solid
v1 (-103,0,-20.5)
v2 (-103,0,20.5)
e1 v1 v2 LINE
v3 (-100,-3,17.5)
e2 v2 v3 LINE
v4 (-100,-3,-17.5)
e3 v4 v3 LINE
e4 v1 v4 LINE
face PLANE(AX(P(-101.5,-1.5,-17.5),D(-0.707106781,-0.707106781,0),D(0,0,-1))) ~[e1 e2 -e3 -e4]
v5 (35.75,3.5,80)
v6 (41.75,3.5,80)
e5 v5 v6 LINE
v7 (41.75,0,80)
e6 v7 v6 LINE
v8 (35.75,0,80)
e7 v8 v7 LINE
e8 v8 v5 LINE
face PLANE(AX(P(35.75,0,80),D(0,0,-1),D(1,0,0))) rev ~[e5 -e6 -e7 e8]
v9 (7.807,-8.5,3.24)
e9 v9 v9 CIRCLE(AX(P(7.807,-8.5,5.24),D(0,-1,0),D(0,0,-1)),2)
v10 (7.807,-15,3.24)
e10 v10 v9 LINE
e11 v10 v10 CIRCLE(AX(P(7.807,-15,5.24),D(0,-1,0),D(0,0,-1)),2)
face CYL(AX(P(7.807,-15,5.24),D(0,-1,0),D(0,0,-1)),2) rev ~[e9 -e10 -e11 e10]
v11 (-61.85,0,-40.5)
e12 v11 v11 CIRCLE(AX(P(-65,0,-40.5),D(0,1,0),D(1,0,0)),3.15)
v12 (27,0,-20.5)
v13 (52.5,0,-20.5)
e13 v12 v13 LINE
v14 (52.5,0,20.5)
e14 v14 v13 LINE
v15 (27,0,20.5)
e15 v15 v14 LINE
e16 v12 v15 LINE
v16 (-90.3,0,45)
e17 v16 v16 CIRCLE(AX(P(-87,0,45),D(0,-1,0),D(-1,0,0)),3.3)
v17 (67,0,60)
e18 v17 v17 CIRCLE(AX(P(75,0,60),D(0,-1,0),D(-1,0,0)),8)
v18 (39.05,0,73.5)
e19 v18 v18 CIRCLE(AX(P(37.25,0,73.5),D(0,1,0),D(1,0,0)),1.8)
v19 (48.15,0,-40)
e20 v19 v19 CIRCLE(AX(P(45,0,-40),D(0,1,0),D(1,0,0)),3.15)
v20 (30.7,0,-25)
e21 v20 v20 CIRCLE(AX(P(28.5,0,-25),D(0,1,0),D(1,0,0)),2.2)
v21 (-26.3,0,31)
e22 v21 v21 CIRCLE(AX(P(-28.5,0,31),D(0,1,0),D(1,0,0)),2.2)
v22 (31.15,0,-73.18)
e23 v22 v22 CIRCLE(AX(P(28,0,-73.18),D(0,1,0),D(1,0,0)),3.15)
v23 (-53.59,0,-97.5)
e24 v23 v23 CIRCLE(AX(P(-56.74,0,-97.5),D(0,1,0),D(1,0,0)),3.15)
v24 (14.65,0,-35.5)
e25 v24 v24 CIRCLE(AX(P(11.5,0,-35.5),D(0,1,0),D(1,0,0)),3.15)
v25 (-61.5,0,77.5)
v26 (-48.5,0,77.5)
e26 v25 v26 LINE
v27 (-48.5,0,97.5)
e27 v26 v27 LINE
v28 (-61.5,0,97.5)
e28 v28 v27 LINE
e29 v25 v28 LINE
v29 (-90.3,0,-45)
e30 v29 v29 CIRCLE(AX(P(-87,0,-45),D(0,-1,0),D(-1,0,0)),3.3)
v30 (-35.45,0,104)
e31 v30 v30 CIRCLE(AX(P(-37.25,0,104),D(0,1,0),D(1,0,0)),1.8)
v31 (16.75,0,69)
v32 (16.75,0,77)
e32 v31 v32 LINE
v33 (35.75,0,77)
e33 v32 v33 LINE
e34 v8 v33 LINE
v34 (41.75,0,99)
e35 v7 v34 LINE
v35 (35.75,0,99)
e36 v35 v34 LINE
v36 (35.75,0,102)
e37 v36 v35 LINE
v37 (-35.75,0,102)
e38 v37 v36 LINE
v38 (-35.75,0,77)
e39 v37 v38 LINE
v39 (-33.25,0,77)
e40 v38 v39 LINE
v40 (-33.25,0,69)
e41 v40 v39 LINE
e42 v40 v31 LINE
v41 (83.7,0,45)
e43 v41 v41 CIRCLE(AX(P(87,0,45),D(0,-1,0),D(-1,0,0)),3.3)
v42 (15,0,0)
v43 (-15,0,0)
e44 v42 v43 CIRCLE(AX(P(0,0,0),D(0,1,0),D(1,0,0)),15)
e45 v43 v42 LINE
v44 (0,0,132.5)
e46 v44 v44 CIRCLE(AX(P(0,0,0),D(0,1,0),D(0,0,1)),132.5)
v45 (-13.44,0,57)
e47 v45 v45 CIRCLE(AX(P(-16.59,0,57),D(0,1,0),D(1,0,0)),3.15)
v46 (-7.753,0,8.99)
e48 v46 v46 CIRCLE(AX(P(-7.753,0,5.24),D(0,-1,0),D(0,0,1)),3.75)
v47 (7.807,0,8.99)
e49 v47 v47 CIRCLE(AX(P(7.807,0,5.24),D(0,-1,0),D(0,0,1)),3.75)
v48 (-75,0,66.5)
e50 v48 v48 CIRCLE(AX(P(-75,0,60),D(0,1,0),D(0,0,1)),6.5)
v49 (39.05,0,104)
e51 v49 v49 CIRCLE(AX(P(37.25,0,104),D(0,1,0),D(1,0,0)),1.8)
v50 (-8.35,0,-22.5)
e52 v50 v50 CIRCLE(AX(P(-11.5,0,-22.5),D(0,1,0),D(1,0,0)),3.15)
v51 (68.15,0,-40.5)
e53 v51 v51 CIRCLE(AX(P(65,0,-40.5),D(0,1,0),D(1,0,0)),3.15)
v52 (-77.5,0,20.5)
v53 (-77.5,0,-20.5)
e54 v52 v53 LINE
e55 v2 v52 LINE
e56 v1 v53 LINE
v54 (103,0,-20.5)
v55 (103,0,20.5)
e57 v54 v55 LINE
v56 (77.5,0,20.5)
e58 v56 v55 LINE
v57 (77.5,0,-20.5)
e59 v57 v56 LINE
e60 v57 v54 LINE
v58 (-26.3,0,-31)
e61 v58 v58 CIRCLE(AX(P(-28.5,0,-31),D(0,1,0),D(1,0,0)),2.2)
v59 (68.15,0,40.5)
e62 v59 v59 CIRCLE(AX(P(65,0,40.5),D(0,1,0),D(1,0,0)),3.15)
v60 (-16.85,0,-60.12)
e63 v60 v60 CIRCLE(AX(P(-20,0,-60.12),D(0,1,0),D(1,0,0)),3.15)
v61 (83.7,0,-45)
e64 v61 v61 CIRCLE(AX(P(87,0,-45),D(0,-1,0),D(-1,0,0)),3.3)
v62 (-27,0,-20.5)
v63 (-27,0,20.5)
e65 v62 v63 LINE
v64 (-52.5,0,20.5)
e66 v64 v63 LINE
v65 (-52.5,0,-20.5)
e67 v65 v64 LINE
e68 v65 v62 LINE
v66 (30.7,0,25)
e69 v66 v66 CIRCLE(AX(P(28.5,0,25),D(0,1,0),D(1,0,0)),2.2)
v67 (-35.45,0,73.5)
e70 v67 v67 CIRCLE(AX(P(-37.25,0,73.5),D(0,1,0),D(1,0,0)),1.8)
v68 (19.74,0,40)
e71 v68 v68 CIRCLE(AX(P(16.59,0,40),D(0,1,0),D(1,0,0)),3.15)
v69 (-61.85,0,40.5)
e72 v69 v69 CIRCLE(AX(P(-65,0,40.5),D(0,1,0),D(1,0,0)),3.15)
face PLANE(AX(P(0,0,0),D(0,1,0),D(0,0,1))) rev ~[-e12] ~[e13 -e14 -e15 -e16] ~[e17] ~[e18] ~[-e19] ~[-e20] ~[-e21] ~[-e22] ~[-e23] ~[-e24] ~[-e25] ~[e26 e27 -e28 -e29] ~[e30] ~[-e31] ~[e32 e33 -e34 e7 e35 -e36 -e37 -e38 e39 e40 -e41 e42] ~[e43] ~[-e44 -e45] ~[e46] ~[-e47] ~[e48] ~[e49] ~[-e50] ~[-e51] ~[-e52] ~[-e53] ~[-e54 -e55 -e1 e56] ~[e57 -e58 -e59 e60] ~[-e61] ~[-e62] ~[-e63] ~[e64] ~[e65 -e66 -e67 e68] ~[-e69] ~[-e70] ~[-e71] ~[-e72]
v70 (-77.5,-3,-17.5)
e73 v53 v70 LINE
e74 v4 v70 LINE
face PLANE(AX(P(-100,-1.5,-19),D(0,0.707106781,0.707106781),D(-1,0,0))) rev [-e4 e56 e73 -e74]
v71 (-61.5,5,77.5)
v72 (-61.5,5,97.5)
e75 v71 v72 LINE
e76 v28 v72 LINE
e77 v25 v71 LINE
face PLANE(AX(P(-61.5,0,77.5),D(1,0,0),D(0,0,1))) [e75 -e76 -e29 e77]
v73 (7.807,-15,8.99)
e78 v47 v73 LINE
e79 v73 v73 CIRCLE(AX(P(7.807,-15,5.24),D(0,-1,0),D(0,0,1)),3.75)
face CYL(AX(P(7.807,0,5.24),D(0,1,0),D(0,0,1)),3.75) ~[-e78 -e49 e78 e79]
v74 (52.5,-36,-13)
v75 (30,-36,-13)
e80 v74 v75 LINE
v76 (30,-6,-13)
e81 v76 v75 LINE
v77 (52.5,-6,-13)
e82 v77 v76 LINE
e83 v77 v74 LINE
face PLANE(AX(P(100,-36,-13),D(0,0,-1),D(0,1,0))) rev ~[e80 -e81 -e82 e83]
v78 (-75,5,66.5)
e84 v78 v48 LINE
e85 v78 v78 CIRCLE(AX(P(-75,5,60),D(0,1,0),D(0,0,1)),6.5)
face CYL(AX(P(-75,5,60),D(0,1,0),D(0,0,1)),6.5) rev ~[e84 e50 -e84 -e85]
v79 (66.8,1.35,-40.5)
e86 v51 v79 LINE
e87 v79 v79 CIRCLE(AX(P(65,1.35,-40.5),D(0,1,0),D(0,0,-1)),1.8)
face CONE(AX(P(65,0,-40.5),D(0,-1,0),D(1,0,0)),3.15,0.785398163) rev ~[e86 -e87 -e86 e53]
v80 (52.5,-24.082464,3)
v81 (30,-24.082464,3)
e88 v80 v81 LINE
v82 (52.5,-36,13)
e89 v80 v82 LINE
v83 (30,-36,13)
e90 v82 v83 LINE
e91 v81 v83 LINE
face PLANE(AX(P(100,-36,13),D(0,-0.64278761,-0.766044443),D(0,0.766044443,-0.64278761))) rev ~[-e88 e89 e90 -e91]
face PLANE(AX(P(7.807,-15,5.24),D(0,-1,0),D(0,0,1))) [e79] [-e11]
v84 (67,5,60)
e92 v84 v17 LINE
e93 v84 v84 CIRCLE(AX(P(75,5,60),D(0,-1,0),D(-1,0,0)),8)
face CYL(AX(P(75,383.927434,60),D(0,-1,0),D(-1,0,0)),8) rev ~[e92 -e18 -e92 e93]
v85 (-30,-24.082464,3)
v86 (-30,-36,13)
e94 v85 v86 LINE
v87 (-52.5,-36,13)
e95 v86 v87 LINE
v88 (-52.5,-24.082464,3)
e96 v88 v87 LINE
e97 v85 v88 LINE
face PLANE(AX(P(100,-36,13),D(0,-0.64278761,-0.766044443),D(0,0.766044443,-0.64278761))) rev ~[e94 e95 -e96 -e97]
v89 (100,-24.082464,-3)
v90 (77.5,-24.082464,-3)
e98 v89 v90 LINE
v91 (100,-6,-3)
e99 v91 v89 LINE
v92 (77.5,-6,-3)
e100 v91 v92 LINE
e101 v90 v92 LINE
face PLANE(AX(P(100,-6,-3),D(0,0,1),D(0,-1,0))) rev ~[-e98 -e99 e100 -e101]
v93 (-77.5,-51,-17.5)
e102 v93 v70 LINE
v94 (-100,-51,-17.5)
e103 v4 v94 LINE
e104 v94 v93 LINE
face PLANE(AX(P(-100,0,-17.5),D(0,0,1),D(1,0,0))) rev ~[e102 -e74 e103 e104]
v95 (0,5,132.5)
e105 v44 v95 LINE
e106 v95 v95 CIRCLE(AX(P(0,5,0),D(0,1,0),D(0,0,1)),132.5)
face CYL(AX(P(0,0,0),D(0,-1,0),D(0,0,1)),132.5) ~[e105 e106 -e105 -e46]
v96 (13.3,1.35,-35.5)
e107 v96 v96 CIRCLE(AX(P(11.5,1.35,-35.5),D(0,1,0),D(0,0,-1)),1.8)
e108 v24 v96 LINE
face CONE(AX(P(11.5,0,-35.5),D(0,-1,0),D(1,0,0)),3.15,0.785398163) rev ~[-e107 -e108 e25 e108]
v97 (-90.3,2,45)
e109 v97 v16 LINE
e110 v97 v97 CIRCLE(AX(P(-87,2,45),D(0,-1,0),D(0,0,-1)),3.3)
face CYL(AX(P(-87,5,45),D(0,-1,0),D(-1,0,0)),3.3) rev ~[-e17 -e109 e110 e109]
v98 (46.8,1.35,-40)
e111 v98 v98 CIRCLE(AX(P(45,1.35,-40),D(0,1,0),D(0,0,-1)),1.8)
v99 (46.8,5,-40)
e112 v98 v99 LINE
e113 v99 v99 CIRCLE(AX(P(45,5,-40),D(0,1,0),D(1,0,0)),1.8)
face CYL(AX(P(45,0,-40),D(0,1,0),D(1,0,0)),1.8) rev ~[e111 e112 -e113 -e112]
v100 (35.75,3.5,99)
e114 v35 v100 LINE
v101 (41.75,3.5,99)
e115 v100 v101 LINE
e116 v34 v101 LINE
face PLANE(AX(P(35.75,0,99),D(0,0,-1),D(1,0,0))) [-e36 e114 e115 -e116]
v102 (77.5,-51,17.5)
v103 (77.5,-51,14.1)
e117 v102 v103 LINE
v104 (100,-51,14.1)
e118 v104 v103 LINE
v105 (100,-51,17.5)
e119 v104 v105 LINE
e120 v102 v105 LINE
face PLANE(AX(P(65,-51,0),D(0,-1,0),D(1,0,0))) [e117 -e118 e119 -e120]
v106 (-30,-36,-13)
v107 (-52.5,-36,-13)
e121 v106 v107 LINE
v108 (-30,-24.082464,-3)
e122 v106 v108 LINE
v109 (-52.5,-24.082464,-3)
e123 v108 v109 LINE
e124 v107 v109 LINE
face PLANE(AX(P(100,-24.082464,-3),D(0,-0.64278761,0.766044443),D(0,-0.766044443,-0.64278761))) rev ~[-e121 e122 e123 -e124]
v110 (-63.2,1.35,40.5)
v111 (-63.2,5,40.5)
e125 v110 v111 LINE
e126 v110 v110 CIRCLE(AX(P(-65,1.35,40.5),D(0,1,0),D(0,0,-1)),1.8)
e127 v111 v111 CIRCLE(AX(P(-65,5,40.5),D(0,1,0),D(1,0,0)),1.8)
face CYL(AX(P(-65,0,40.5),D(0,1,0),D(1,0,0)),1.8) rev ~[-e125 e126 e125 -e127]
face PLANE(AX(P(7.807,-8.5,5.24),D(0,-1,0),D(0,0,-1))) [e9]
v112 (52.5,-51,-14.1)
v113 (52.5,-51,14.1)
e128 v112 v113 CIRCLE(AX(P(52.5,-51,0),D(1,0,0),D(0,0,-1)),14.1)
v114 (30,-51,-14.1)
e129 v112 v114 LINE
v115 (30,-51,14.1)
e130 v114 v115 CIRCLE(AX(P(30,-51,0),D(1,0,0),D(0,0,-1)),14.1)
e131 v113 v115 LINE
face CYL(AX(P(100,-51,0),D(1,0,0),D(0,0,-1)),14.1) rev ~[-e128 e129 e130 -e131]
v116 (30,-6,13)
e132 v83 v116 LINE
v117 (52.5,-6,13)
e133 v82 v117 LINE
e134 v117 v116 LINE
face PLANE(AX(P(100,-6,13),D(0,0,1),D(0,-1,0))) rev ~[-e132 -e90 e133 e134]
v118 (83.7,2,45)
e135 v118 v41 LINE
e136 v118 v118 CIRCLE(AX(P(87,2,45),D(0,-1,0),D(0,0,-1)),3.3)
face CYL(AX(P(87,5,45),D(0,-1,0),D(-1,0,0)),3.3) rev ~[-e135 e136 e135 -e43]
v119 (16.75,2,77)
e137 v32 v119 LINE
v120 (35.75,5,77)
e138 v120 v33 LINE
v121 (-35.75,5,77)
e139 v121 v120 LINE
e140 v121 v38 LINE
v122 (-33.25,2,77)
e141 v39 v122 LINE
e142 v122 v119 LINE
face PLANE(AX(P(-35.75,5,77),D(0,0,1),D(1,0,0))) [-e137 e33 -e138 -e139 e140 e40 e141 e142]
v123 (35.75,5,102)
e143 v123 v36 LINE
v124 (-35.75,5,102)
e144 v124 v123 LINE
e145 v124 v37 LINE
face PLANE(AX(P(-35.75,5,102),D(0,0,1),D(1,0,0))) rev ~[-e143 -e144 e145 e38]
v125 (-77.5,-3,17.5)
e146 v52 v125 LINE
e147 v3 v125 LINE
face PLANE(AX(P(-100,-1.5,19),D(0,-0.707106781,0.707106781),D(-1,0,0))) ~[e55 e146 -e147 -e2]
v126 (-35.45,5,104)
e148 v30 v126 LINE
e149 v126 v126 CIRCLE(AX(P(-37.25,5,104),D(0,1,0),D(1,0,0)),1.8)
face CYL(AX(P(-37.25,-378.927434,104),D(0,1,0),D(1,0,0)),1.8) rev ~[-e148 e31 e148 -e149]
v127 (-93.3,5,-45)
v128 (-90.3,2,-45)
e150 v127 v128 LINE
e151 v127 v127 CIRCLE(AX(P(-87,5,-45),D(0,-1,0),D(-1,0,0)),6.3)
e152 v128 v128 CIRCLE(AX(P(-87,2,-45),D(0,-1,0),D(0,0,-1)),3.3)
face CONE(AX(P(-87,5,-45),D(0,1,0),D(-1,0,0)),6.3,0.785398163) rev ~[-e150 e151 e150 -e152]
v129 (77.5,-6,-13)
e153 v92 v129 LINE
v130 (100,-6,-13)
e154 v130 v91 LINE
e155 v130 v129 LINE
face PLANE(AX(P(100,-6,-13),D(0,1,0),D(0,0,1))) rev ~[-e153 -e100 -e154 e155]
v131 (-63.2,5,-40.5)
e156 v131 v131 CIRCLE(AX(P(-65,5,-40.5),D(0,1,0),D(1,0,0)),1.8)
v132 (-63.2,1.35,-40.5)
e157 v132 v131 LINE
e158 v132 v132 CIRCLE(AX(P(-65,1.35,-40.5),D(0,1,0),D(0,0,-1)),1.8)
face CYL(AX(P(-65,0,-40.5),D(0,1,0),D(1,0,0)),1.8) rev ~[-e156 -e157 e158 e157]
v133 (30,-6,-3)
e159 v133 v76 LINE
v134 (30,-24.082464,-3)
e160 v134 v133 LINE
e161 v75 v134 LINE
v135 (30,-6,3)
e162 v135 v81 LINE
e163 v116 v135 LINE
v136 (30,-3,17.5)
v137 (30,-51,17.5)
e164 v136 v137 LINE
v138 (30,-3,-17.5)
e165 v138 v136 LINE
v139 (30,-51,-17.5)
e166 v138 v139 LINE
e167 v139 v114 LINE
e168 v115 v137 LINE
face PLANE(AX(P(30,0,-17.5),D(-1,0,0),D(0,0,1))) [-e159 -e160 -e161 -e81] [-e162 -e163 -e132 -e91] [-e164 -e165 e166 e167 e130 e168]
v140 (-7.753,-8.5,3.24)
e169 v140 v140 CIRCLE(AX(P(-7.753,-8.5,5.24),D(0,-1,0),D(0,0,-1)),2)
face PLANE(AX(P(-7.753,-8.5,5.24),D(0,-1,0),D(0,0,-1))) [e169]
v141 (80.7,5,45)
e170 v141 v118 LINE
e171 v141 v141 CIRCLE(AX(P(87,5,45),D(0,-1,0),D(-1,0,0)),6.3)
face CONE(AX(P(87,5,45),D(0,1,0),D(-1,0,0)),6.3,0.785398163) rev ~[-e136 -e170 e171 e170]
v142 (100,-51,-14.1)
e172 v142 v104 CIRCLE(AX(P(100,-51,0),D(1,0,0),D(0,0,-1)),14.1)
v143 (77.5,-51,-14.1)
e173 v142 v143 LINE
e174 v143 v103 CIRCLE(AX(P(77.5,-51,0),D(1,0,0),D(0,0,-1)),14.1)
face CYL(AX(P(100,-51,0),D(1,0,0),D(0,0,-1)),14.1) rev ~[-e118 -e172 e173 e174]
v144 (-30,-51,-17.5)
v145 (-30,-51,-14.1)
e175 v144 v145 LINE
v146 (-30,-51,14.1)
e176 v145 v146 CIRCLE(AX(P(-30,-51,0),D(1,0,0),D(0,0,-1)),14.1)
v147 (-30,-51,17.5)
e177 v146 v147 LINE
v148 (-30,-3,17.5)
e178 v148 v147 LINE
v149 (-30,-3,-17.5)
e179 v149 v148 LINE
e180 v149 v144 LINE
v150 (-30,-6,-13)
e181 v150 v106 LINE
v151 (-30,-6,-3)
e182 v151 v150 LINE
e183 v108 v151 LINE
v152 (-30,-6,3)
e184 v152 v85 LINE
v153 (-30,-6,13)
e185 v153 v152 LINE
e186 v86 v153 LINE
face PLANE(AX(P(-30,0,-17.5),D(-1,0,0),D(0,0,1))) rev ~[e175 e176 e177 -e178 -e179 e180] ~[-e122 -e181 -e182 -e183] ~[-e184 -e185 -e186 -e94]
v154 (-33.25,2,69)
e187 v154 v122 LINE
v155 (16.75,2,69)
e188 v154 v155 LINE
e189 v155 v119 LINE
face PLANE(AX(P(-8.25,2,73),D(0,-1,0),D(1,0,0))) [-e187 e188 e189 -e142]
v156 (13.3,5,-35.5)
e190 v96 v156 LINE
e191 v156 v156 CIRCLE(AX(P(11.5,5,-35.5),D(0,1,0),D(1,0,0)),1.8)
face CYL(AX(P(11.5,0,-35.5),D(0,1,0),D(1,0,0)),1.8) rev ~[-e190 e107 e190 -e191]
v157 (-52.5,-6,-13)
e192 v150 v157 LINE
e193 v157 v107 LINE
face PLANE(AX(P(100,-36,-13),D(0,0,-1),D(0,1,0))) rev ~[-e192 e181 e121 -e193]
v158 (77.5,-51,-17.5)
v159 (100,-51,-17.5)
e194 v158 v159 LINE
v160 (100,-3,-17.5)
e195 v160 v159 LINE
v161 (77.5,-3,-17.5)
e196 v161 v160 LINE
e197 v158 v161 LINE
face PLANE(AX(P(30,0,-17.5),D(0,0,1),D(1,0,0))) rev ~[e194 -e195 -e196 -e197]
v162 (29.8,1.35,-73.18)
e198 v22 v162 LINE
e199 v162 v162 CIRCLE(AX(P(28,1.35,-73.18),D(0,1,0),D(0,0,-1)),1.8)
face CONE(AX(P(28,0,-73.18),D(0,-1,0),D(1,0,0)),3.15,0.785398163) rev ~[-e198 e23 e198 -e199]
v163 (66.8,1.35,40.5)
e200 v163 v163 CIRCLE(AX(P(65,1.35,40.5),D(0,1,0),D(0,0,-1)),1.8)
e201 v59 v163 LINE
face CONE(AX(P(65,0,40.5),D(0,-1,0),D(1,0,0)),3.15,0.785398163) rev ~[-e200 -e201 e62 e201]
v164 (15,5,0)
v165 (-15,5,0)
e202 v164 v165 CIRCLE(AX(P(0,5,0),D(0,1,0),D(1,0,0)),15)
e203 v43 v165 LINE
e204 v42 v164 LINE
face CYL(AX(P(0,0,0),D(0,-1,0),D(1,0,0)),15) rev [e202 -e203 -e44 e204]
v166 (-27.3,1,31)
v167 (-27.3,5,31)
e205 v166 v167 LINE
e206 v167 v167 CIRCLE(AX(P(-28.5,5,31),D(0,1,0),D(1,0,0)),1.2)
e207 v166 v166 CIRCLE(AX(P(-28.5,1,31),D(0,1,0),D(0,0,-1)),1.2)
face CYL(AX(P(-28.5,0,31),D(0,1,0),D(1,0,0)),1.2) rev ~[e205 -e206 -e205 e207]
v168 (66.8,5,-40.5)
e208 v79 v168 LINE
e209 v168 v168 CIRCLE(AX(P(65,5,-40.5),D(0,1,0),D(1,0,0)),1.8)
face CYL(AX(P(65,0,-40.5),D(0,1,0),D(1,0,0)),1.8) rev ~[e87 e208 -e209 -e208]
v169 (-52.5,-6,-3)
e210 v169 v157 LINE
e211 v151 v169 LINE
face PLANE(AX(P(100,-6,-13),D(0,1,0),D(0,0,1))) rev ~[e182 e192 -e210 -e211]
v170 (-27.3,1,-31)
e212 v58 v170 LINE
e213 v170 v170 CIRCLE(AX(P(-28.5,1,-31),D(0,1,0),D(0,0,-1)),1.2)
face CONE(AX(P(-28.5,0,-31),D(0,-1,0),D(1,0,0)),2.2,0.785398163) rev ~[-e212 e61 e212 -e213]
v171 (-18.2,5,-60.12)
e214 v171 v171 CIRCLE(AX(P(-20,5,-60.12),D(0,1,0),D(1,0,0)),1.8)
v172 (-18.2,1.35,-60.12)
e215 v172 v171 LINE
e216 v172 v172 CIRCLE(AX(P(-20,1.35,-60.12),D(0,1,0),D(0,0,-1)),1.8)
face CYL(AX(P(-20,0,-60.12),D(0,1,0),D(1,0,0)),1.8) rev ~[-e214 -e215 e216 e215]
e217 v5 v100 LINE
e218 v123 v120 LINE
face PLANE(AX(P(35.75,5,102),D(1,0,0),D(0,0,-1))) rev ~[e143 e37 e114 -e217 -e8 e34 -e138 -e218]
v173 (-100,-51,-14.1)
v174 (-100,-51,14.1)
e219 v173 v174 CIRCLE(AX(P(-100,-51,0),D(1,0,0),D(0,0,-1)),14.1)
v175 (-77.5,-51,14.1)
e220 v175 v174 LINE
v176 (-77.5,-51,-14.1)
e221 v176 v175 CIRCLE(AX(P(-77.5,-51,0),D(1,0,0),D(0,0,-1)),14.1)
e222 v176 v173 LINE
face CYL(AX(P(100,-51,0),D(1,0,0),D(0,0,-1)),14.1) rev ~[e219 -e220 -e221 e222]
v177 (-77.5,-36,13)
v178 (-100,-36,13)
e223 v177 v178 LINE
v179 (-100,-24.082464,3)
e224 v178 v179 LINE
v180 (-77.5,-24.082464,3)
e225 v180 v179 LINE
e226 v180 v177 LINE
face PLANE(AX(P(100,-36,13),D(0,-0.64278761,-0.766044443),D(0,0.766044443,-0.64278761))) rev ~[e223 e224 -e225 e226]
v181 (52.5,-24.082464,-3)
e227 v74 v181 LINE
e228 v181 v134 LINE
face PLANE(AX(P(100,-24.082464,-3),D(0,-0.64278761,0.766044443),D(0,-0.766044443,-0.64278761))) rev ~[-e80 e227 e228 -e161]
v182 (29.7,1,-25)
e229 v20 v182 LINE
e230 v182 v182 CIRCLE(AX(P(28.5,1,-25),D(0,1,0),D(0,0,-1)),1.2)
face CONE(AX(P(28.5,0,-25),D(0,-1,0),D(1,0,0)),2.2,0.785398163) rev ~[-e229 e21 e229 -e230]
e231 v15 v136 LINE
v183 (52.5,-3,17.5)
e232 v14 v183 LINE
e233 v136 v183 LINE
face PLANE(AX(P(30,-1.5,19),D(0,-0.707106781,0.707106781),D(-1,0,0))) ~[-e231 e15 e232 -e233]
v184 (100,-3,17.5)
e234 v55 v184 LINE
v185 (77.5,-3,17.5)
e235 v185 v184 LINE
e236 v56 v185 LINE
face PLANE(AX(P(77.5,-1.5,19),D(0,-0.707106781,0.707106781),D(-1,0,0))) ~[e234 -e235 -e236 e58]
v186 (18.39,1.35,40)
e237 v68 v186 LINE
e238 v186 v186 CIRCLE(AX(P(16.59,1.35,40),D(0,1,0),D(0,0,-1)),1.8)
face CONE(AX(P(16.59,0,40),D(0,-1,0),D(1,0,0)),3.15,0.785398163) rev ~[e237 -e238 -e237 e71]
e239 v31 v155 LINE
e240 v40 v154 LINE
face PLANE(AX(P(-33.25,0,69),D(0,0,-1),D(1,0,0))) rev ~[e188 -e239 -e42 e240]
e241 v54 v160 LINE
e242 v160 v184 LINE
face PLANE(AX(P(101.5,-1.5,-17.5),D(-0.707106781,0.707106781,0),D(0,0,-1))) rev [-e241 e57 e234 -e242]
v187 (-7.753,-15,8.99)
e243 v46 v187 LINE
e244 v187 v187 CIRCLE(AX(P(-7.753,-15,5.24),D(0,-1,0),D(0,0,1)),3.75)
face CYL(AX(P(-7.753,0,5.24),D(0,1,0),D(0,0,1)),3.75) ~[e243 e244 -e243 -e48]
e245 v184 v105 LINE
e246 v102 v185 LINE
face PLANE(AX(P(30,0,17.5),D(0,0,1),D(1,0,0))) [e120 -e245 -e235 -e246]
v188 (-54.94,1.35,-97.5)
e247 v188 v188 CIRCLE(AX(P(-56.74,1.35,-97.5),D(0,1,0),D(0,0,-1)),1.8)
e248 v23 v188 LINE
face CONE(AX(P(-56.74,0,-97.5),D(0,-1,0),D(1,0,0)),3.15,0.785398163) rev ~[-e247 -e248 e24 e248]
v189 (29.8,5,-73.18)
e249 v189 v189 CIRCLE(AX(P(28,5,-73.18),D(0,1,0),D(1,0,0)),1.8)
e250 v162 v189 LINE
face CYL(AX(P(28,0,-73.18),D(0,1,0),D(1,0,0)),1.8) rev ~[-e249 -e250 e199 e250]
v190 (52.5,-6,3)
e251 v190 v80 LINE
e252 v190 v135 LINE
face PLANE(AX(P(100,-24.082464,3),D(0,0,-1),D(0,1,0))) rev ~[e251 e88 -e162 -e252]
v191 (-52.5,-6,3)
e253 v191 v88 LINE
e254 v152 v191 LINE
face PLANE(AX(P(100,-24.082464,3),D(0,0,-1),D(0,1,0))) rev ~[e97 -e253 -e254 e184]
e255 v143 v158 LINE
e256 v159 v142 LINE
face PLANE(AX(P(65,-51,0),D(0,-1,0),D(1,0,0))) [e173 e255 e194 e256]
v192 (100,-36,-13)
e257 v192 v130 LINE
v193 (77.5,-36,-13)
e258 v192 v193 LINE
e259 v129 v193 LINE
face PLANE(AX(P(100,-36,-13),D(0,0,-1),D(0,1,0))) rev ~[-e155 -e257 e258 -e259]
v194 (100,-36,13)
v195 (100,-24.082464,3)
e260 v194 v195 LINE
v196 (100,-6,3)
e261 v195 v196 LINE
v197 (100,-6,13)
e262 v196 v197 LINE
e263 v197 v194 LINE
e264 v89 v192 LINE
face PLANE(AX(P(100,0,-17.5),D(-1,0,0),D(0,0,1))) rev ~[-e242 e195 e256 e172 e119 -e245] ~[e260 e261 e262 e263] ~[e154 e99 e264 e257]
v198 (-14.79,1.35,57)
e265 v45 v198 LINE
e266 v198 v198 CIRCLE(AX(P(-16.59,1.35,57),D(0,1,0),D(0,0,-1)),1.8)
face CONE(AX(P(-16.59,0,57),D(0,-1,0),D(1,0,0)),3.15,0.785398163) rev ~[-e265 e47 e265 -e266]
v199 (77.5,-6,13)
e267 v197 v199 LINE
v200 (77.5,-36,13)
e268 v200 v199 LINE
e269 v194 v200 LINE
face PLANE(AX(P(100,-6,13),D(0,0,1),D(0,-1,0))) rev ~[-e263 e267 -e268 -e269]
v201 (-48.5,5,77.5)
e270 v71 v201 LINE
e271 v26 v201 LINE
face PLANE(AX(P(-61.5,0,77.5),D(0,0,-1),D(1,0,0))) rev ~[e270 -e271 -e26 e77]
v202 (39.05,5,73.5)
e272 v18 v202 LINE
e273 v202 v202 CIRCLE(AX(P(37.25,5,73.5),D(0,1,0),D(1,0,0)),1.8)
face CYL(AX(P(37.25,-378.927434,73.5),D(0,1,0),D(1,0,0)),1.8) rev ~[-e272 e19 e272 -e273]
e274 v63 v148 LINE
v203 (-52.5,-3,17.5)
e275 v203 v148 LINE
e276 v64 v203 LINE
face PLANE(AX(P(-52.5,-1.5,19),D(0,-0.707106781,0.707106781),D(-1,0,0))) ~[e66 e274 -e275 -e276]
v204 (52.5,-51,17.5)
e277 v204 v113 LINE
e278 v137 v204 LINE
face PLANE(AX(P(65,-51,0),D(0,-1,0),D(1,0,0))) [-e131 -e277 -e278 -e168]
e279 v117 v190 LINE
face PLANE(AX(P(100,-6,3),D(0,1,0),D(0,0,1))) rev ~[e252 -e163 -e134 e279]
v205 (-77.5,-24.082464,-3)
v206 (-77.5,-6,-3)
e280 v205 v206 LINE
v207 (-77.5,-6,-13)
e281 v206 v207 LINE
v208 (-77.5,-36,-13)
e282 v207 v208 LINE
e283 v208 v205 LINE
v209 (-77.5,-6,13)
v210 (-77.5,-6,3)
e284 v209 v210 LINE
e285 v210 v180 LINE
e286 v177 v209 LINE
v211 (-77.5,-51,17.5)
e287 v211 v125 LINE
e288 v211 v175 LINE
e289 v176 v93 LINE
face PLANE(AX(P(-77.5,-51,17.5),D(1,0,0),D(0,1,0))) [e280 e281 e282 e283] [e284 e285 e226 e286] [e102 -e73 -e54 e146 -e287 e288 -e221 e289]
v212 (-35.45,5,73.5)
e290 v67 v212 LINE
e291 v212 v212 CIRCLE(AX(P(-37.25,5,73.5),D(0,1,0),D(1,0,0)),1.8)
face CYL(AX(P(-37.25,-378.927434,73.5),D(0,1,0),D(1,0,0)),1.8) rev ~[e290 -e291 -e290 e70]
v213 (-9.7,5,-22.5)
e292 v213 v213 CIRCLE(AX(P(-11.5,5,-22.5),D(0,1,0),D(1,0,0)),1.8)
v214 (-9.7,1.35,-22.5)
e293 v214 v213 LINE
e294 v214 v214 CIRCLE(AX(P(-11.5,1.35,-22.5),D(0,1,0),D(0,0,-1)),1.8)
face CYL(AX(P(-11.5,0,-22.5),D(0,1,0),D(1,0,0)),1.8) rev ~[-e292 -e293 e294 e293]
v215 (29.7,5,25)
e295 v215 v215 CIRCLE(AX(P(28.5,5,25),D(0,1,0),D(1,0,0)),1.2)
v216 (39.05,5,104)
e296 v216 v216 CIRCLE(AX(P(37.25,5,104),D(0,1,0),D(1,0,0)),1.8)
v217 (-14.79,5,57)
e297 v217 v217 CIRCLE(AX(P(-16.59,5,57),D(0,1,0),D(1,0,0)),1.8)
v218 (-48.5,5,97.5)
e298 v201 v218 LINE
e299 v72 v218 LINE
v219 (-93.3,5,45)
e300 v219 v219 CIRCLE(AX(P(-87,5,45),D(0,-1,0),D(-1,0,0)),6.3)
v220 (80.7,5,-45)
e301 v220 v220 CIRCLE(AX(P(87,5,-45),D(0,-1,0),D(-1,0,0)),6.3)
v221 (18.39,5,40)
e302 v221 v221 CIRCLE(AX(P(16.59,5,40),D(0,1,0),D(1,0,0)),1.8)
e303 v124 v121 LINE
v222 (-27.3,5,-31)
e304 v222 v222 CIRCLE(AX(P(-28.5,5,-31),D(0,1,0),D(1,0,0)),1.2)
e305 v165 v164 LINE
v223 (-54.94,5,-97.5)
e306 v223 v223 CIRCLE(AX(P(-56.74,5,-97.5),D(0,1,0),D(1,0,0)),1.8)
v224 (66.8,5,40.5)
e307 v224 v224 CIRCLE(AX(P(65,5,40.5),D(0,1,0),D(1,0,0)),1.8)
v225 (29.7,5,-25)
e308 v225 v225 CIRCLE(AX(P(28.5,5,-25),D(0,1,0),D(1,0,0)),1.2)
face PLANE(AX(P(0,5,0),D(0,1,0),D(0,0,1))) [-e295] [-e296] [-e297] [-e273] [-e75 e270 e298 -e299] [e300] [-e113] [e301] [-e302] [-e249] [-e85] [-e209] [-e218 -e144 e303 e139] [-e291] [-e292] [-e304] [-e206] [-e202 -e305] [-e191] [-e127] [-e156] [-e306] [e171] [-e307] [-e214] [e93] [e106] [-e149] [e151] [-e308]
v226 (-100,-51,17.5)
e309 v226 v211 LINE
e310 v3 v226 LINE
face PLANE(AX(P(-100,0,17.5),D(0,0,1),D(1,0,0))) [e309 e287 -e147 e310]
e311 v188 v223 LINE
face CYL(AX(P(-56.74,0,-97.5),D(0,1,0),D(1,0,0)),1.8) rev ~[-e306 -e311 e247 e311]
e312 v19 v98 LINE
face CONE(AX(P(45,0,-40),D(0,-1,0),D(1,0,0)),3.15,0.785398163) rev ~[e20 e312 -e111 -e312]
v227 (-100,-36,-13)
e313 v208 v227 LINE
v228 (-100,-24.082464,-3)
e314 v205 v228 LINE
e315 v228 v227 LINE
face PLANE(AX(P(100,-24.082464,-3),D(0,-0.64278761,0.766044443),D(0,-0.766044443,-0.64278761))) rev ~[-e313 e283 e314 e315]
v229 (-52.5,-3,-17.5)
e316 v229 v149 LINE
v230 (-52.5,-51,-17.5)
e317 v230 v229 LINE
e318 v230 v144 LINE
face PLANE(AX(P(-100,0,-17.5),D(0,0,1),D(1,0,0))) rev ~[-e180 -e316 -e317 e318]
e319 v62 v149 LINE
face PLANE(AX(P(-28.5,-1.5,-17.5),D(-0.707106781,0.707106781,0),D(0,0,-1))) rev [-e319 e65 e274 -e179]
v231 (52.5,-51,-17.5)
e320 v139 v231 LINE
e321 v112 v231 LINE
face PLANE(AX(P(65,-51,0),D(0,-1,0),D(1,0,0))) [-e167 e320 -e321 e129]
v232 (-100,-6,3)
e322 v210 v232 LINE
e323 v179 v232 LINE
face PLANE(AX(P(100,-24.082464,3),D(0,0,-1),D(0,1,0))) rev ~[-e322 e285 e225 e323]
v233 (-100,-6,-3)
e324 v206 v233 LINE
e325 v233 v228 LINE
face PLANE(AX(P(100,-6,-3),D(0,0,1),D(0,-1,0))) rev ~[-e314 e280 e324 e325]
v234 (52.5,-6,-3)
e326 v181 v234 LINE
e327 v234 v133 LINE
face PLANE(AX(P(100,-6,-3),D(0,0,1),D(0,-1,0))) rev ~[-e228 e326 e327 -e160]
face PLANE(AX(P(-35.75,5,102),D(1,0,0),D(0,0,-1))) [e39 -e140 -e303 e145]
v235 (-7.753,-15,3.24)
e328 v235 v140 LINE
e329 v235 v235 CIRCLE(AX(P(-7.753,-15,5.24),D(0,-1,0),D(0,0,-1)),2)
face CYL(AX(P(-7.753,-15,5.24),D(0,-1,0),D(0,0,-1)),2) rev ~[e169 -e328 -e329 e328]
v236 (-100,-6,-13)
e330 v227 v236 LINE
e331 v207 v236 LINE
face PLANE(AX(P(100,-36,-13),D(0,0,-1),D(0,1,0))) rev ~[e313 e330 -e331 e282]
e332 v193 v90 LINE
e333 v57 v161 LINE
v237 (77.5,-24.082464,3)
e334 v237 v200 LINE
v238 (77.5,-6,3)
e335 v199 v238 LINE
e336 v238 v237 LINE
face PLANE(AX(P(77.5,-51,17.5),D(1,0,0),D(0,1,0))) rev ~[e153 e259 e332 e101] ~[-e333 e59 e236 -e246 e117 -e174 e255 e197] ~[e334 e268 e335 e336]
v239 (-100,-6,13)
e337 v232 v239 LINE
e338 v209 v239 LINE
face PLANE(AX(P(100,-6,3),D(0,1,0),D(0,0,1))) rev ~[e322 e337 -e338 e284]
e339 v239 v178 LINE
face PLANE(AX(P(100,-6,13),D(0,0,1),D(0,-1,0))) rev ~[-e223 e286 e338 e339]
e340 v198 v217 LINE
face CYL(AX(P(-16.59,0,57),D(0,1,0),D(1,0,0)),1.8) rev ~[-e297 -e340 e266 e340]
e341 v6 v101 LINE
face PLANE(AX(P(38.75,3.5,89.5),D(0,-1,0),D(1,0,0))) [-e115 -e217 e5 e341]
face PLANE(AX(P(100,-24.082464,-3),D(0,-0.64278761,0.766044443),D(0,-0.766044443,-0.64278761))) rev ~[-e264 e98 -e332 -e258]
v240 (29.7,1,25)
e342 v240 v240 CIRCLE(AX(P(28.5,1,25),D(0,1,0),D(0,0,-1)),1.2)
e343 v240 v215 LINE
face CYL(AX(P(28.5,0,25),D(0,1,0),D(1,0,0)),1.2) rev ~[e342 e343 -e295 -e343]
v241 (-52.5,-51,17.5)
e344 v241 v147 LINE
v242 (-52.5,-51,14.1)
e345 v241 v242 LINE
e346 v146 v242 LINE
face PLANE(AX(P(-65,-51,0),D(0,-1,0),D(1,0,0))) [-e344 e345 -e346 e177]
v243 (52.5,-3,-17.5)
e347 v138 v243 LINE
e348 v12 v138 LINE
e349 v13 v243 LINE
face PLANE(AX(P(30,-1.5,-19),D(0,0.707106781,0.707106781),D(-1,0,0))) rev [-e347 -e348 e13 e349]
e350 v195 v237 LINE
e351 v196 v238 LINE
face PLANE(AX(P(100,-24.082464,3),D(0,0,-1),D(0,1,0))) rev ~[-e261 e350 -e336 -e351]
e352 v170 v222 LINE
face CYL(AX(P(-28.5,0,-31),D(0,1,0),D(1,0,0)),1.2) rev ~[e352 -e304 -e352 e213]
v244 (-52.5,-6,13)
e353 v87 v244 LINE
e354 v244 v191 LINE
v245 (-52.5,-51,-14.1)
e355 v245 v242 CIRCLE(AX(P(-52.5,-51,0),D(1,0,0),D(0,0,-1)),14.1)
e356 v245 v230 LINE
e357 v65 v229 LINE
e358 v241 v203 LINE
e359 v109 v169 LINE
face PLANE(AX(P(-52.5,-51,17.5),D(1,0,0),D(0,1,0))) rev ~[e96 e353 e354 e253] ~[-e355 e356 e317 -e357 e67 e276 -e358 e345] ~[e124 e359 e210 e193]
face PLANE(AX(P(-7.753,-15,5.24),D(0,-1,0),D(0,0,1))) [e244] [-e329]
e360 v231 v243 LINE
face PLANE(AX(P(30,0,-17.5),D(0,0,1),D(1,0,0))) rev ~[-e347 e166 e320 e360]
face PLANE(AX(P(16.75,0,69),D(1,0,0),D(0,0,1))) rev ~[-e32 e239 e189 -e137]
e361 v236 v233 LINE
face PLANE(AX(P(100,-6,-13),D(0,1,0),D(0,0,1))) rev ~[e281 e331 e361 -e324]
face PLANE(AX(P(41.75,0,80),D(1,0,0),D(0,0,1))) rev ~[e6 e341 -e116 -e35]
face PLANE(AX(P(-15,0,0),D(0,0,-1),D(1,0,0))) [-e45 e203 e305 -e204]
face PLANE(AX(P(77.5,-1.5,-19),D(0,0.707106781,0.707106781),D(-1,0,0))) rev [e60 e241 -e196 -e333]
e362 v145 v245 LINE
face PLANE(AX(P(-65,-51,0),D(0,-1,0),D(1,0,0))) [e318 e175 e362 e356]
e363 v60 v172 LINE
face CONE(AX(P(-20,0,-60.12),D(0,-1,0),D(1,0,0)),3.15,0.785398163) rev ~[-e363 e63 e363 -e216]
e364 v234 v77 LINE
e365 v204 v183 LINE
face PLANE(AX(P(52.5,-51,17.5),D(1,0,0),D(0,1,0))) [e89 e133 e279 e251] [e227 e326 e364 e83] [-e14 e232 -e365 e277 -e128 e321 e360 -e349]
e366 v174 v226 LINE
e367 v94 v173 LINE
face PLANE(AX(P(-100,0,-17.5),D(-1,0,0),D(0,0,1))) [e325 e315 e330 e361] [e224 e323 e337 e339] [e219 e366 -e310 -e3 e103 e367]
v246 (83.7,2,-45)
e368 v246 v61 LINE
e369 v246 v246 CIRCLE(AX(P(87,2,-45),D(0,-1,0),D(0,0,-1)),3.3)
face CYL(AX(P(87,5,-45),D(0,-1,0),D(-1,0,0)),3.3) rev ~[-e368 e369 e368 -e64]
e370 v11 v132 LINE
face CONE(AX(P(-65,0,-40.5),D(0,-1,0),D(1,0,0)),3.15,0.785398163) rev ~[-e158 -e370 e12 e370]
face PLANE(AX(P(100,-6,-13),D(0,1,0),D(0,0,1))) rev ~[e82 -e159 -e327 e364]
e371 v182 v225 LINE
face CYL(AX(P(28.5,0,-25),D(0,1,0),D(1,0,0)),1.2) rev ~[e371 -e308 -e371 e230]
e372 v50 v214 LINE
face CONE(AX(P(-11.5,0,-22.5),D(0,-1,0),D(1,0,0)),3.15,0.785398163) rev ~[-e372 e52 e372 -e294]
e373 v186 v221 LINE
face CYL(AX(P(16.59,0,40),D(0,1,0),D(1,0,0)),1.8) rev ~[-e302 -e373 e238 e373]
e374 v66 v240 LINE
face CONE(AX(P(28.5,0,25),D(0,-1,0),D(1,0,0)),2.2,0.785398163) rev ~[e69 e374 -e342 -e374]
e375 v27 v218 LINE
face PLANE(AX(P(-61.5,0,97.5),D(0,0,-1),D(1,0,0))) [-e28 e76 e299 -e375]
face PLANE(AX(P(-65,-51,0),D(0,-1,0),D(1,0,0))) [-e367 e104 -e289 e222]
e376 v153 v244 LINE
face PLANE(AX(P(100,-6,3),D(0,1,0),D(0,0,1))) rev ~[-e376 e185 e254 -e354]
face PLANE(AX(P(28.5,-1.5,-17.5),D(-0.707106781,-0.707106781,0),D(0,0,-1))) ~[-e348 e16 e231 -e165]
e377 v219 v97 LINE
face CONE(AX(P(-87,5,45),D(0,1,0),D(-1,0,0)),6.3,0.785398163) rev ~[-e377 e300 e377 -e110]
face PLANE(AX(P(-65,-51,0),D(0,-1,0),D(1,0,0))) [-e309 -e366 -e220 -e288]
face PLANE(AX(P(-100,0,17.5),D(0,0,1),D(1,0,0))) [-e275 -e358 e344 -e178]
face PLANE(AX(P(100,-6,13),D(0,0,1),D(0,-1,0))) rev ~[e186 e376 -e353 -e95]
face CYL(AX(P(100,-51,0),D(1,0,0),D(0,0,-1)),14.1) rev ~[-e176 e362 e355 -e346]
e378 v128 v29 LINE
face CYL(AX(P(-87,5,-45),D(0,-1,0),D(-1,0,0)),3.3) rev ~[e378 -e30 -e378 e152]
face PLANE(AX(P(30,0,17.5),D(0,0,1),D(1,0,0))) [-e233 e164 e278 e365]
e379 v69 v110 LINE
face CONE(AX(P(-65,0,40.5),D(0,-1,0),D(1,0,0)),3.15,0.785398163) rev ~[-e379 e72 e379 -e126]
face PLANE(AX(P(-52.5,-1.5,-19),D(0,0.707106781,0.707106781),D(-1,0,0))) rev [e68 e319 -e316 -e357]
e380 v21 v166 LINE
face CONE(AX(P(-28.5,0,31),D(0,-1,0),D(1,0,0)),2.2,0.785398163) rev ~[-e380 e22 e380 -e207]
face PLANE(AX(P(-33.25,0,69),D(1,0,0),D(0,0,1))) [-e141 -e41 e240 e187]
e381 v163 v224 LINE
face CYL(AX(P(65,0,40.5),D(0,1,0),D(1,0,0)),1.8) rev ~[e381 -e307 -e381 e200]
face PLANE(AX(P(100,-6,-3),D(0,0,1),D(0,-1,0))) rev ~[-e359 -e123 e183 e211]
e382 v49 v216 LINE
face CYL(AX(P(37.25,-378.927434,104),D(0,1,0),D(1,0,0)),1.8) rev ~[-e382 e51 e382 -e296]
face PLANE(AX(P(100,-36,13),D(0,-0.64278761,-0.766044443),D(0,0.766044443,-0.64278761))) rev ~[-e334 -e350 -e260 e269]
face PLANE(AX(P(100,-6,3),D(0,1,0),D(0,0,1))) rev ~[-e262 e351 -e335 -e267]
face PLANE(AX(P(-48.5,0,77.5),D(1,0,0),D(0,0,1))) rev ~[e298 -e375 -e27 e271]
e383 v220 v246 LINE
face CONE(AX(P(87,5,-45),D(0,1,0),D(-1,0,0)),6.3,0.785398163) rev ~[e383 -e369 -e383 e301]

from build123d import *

# Parameters (mm, degrees)
CROQUIS1_R                                           = 132.5
SALIENTE_EXTRUIR1_DEPTH                              = 5
AVELLANADO_PARA_TORNILLO_CON_CABEZA_PLAN_D           = 6.6
AVELLANADO_PARA_TORNILLO_CON_CABEZA_PLAN_CSINK_D     = 12.6
AVELLANADO_PARA_TORNILLO_CON_CABEZA_PLAN_CSINK_ANGLE = 90
AVELLANADO_PARA_TORNILLO_CON_CABEZA_2_D              = 2.4
AVELLANADO_PARA_TORNILLO_CON_CABEZA_2_CSINK_D        = 4.4
AVELLANADO_PARA_TORNILLO_CON_CABEZA_2_CSINK_ANGLE    = 90
CORTAR_EXTRUIR1_DEPTH                                = 5
CROQUIS20_W                                          = 70
CROQUIS20_H                                          = 35
SALIENTE_EXTRUIR2_DEPTH                              = 51
CORTAR_EXTRUIR3_REACH                                = 274.422
TALADRO_DE_MARGEN_PARA_M131_D                        = 16
CORTAR_EXTRUIR4_REACH                                = 208.536
CROQUIS24_W                                          = 25
CROQUIS24_H                                          = 51
CHAFL_N1_SIZE                                        = 3
CROQUIS25_W                                          = 71.5
CROQUIS25_H                                          = 25
CORTAR_EXTRUIR5_DEPTH                                = 5
TALADRO_DE_MARGEN_PARA_M31_D                         = 3.6
CROQUIS26_W                                          = 6
CROQUIS26_H                                          = 19
CORTAR_EXTRUIR6_DEPTH                                = 3.5
CROQUIS27_W                                          = 50
CROQUIS27_H                                          = 8
CORTAR_EXTRUIR7_DEPTH                                = 2
CROQUIS28_W                                          = 13
CROQUIS28_H                                          = 20
CORTAR_EXTRUIR8_DEPTH                                = 5
CROQUIS29_R                                          = 6.5
CORTAR_EXTRUIR9_DEPTH                                = 5
AVELLANADO_PARA_TORNILLO_CON_CABEZA_3_D              = 3.6
AVELLANADO_PARA_TORNILLO_CON_CABEZA_3_CSINK_D        = 6.3
AVELLANADO_PARA_TORNILLO_CON_CABEZA_3_CSINK_ANGLE    = 90
AVELLANADO_PARA_TORNILLO_CON_CABEZA_4_D              = 3.6
AVELLANADO_PARA_TORNILLO_CON_CABEZA_4_CSINK_D        = 6.3
AVELLANADO_PARA_TORNILLO_CON_CABEZA_4_CSINK_ANGLE    = 90
AVELLANADO_PARA_TORNILLO_CON_CABEZA_5_D              = 3.6
AVELLANADO_PARA_TORNILLO_CON_CABEZA_5_CSINK_D        = 6.3
AVELLANADO_PARA_TORNILLO_CON_CABEZA_5_CSINK_ANGLE    = 90
AVELLANADO_PARA_TORNILLO_CON_CABEZA_6_D              = 3.6
AVELLANADO_PARA_TORNILLO_CON_CABEZA_6_CSINK_D        = 6.3
AVELLANADO_PARA_TORNILLO_CON_CABEZA_6_CSINK_ANGLE    = 90
AVELLANADO_PARA_TORNILLO_CON_CABEZA_7_D              = 3.6
AVELLANADO_PARA_TORNILLO_CON_CABEZA_7_CSINK_D        = 6.3
AVELLANADO_PARA_TORNILLO_CON_CABEZA_7_CSINK_ANGLE    = 90
CROQUIS41_R                                          = 3.75
SALIENTE_EXTRUIR3_DEPTH                              = 15
CROQUIS42_R                                          = 2
CORTAR_EXTRUIR10_DEPTH                               = 6.5


with BuildPart() as part:
    # Croquis1 → Saliente-Extruir1 (new body)
    with BuildSketch(Plane(origin=(0, 0, 0), x_dir=(1, 0, 0), z_dir=(0, 1, 0))):
        with Locations(Location((0, 0, 0), (0, 0, 270))):
            Circle(CROQUIS1_R)
    extrude(amount=SALIENTE_EXTRUIR1_DEPTH)

    # Avellanado para tornillo con cabeza plan (through all)
    with Locations(Plane(origin=(0, 5, 0), x_dir=(1, 0, 0), z_dir=(0, 1, 0))):
        with Locations((-87, -45), (87, -45), (87, 45), (-87, 45)):
            CounterSinkHole(AVELLANADO_PARA_TORNILLO_CON_CABEZA_PLAN_D / 2, AVELLANADO_PARA_TORNILLO_CON_CABEZA_PLAN_CSINK_D / 2, counter_sink_angle=AVELLANADO_PARA_TORNILLO_CON_CABEZA_PLAN_CSINK_ANGLE)

    # Avellanado para tornillo con cabeza  2 (through all)
    with Locations(Plane(origin=(0, 0, 0), x_dir=(-1, 0, 0), z_dir=(0, -1, 0))):
        with Locations((-28.5, 25), (28.5, 31), (-28.5, -25), (28.5, -31)):
            CounterSinkHole(AVELLANADO_PARA_TORNILLO_CON_CABEZA_2_D / 2, AVELLANADO_PARA_TORNILLO_CON_CABEZA_2_CSINK_D / 2, counter_sink_angle=AVELLANADO_PARA_TORNILLO_CON_CABEZA_2_CSINK_ANGLE)

    # Croquis18 → Cortar-Extruir1 (cut)
    with BuildSketch(Plane.XZ):
        with BuildLine():
            Line((-15, 0), (15, 0))
            ThreePointArc((15, 0), (0, -15), (-15, 0))
        make_face()
    extrude(amount=-CORTAR_EXTRUIR1_DEPTH, mode=Mode.SUBTRACT)

    # Croquis20 → Saliente-Extruir2 (add)
    with BuildSketch(Plane.XZ):
        with Locations((65, 0)):
            Rectangle(CROQUIS20_W, CROQUIS20_H)
        with Locations((-65, 0)):
            Rectangle(CROQUIS20_W, CROQUIS20_H)
    extrude(amount=SALIENTE_EXTRUIR2_DEPTH)

    # Cortar-Extruir3: up to this face of the body (flat: up to its plane)
    cortar_extruir3_end = Plane(part.part.faces().sort_by_distance((-100, -25.5, 0))[0])
    # Croquis21 → Cortar-Extruir3 (cut, up to the picked face)
    with BuildSketch(Plane(origin=(100, 0, 0), x_dir=(0, 0, -1), z_dir=(1, 0, 0)), mode=Mode.PRIVATE) as cortar_extruir3_sk1:
        with BuildLine():
            Line((-14.1, -51), (14.1, -51))
            ThreePointArc((14.1, -51), (0, -36.9), (-14.1, -51))
        make_face()
    cortar_extruir3_tool1 = split(extrude(cortar_extruir3_sk1.sketch, amount=-CORTAR_EXTRUIR3_REACH, mode=Mode.PRIVATE), bisect_by=cortar_extruir3_end, keep=Keep.BOTH, mode=Mode.PRIVATE)
    # Croquis21 → Cortar-Extruir3 (cut, up to the picked face)
    with BuildSketch(Plane(origin=(100, 0, 0), x_dir=(0, 0, -1), z_dir=(1, 0, 0)), mode=Mode.PRIVATE) as cortar_extruir3_sk2:
        Polygon((-3, -6), (-13, -6), (-13, -36), (-3, -24.082464074), align=None)
    cortar_extruir3_tool2 = split(extrude(cortar_extruir3_sk2.sketch, amount=-CORTAR_EXTRUIR3_REACH, mode=Mode.PRIVATE), bisect_by=cortar_extruir3_end, keep=Keep.BOTH, mode=Mode.PRIVATE)
    # Croquis21 → Cortar-Extruir3 (cut, up to the picked face)
    with BuildSketch(Plane(origin=(100, 0, 0), x_dir=(0, 0, -1), z_dir=(1, 0, 0)), mode=Mode.PRIVATE) as cortar_extruir3_sk3:
        Polygon((3, -6), (3, -24.082464074), (13, -36), (13, -6), align=None)
    cortar_extruir3_tool3 = split(extrude(cortar_extruir3_sk3.sketch, amount=-CORTAR_EXTRUIR3_REACH, mode=Mode.PRIVATE), bisect_by=cortar_extruir3_end, keep=Keep.BOTH, mode=Mode.PRIVATE)
    add(cortar_extruir3_tool1.solids().sort_by(Axis((100, -45.015774, 0), (-1, 0, 0)))[0], mode=Mode.SUBTRACT)
    add(cortar_extruir3_tool2.solids().sort_by(Axis((100, -18.266769, 8.413094), (-1, 0, 0)))[0], mode=Mode.SUBTRACT)
    add(cortar_extruir3_tool3.solids().sort_by(Axis((100, -18.266769, -8.413094), (-1, 0, 0)))[0], mode=Mode.SUBTRACT)

    # Taladro de margen para M131 (through all)
    with Locations(Plane(origin=(0, 5, 0), x_dir=(1, 0, 0), z_dir=(0, 1, 0))):
        with Locations((75, -60)):
            Hole(TALADRO_DE_MARGEN_PARA_M131_D / 2)

    # Cortar-Extruir4: up to this face of the body (flat: up to its plane)
    cortar_extruir4_end = Plane(part.part.faces().sort_by_distance((-65, -25.5, -17.5))[0])
    # Croquis24 → Cortar-Extruir4 (cut, up to the picked face)
    with BuildSketch(Plane.XY.offset(17.5), mode=Mode.PRIVATE) as cortar_extruir4_sk1:
        with Locations((-65, -25.5)):
            Rectangle(CROQUIS24_W, CROQUIS24_H)
    cortar_extruir4_tool1 = split(extrude(cortar_extruir4_sk1.sketch, amount=-CORTAR_EXTRUIR4_REACH, mode=Mode.PRIVATE), bisect_by=cortar_extruir4_end, keep=Keep.BOTH, mode=Mode.PRIVATE)
    # Croquis24 → Cortar-Extruir4 (cut, up to the picked face)
    with BuildSketch(Plane.XY.offset(17.5), mode=Mode.PRIVATE) as cortar_extruir4_sk2:
        with Locations((65, -25.5)):
            Rectangle(CROQUIS24_W, CROQUIS24_H)
    cortar_extruir4_tool2 = split(extrude(cortar_extruir4_sk2.sketch, amount=-CORTAR_EXTRUIR4_REACH, mode=Mode.PRIVATE), bisect_by=cortar_extruir4_end, keep=Keep.BOTH, mode=Mode.PRIVATE)
    add(cortar_extruir4_tool1.solids().sort_by(Axis((-65, -25.5, 17.5), (0, 0, -1)))[0], mode=Mode.SUBTRACT)
    add(cortar_extruir4_tool2.solids().sort_by(Axis((65, -25.5, 17.5), (0, 0, -1)))[0], mode=Mode.SUBTRACT)

    # Chaflán1
    chafl_n1_edges = [part.edges().sort_by_distance(p)[0] for p in [
        (-41.25, 0, -17.5),
        (-88.75, 0, 17.5),
        (88.75, 0, -17.5),
        (41.25, 0, 17.5),
        (100, 0, 0),
        (88.75, 0, 17.5),
        (30, 0, 0),
        (41.25, 0, -17.5),
        (-30, 0, 0),
        (-41.25, 0, 17.5),
        (-100, 0, 0),
        (-88.75, 0, -17.5),
    ]]
    chamfer(chafl_n1_edges, length=CHAFL_N1_SIZE)

    # Croquis25 → Cortar-Extruir5 (cut)
    with BuildSketch(Plane(origin=(0, 5, 0), x_dir=(1, 0, 0), z_dir=(0, 1, 0))):
        with Locations((0, -89.5)):
            Rectangle(CROQUIS25_W, CROQUIS25_H)
    extrude(amount=-CORTAR_EXTRUIR5_DEPTH, mode=Mode.SUBTRACT)

    # Taladro de margen para M31 (through all)
    with Locations(Plane(origin=(0, 0, 0), x_dir=(-1, 0, 0), z_dir=(0, -1, 0))):
        with Locations((37.25, -104), (-37.25, -104), (37.25, -73.5), (-37.25, -73.5)):
            Hole(TALADRO_DE_MARGEN_PARA_M31_D / 2)

    # Croquis26 → Cortar-Extruir6 (cut)
    with BuildSketch(Plane.XZ):
        with Locations((38.75, 89.5)):
            Rectangle(CROQUIS26_W, CROQUIS26_H)
    extrude(amount=-CORTAR_EXTRUIR6_DEPTH, mode=Mode.SUBTRACT)

    # Croquis27 → Cortar-Extruir7 (cut)
    with BuildSketch(Plane.XZ):
        with Locations((-8.25, 73)):
            Rectangle(CROQUIS27_W, CROQUIS27_H)
    extrude(amount=-CORTAR_EXTRUIR7_DEPTH, mode=Mode.SUBTRACT)

    # Croquis28 → Cortar-Extruir8 (cut)
    with BuildSketch(Plane.XZ):
        with Locations((-55, 87.5)):
            Rectangle(CROQUIS28_W, CROQUIS28_H)
    extrude(amount=-CORTAR_EXTRUIR8_DEPTH, mode=Mode.SUBTRACT)

    # Croquis29 → Cortar-Extruir9 (cut)
    with BuildSketch(Plane(origin=(0, 5, 0), x_dir=(1, 0, 0), z_dir=(0, 1, 0))):
        with Locations(Location((-75, -60, 0), (0, 0, 270))):
            Circle(CROQUIS29_R)
    extrude(amount=-CORTAR_EXTRUIR9_DEPTH, mode=Mode.SUBTRACT)

    # Avellanado para tornillo con cabeza  3 (through all)
    with Locations(Plane(origin=(0, 0, 0), x_dir=(-1, 0, 0), z_dir=(0, -1, 0))):
        with Locations((65, 40.5), (65, -40.5), (-65, -40.5), (-65, 40.5)):
            CounterSinkHole(AVELLANADO_PARA_TORNILLO_CON_CABEZA_3_D / 2, AVELLANADO_PARA_TORNILLO_CON_CABEZA_3_CSINK_D / 2, counter_sink_angle=AVELLANADO_PARA_TORNILLO_CON_CABEZA_3_CSINK_ANGLE)

    # Avellanado para tornillo con cabeza  4 (through all)
    with Locations(Plane(origin=(0, 0, 0), x_dir=(-1, 0, 0), z_dir=(0, -1, 0))):
        with Locations((56.74, 97.5), (20, 60.12)):
            CounterSinkHole(AVELLANADO_PARA_TORNILLO_CON_CABEZA_4_D / 2, AVELLANADO_PARA_TORNILLO_CON_CABEZA_4_CSINK_D / 2, counter_sink_angle=AVELLANADO_PARA_TORNILLO_CON_CABEZA_4_CSINK_ANGLE)

    # Avellanado para tornillo con cabeza  5 (through all)
    with Locations(Plane(origin=(0, 0, 0), x_dir=(-1, 0, 0), z_dir=(0, -1, 0))):
        with Locations((-28, 73.18), (-45, 40)):
            CounterSinkHole(AVELLANADO_PARA_TORNILLO_CON_CABEZA_5_D / 2, AVELLANADO_PARA_TORNILLO_CON_CABEZA_5_CSINK_D / 2, counter_sink_angle=AVELLANADO_PARA_TORNILLO_CON_CABEZA_5_CSINK_ANGLE)

    # Avellanado para tornillo con cabeza  6 (through all)
    with Locations(Plane(origin=(0, 0, 0), x_dir=(-1, 0, 0), z_dir=(0, -1, 0))):
        with Locations((16.59, -57), (-16.59, -40)):
            CounterSinkHole(AVELLANADO_PARA_TORNILLO_CON_CABEZA_6_D / 2, AVELLANADO_PARA_TORNILLO_CON_CABEZA_6_CSINK_D / 2, counter_sink_angle=AVELLANADO_PARA_TORNILLO_CON_CABEZA_6_CSINK_ANGLE)

    # Avellanado para tornillo con cabeza  7 (through all)
    with Locations(Plane(origin=(0, 0, 0), x_dir=(-1, 0, 0), z_dir=(0, -1, 0))):
        with Locations((11.5, 22.5), (-11.5, 35.5)):
            CounterSinkHole(AVELLANADO_PARA_TORNILLO_CON_CABEZA_7_D / 2, AVELLANADO_PARA_TORNILLO_CON_CABEZA_7_CSINK_D / 2, counter_sink_angle=AVELLANADO_PARA_TORNILLO_CON_CABEZA_7_CSINK_ANGLE)

    # Croquis41 → Saliente-Extruir3 (add)
    with BuildSketch(Plane(origin=(0, 0, 0), x_dir=(-1, 0, 0), z_dir=(0, -1, 0))):
        with Locations(Location((7.753, -5.24, 0), (0, 0, 270))):
            Circle(CROQUIS41_R)
        with Locations(Location((-7.807, -5.24, 0), (0, 0, 270))):
            Circle(CROQUIS41_R)
    extrude(amount=SALIENTE_EXTRUIR3_DEPTH)

    # Croquis42 → Cortar-Extruir10 (cut)
    with BuildSketch(Plane(origin=(0, -15, 0), x_dir=(-1, 0, 0), z_dir=(0, -1, 0))):
        with Locations(Location((7.753, -5.24, 0), (0, 0, 90))):
            Circle(CROQUIS42_R)
        with Locations(Location((-7.807, -5.24, 0), (0, 0, 90))):
            Circle(CROQUIS42_R)
    extrude(amount=-CORTAR_EXTRUIR10_DEPTH, mode=Mode.SUBTRACT)


solid = part.part
